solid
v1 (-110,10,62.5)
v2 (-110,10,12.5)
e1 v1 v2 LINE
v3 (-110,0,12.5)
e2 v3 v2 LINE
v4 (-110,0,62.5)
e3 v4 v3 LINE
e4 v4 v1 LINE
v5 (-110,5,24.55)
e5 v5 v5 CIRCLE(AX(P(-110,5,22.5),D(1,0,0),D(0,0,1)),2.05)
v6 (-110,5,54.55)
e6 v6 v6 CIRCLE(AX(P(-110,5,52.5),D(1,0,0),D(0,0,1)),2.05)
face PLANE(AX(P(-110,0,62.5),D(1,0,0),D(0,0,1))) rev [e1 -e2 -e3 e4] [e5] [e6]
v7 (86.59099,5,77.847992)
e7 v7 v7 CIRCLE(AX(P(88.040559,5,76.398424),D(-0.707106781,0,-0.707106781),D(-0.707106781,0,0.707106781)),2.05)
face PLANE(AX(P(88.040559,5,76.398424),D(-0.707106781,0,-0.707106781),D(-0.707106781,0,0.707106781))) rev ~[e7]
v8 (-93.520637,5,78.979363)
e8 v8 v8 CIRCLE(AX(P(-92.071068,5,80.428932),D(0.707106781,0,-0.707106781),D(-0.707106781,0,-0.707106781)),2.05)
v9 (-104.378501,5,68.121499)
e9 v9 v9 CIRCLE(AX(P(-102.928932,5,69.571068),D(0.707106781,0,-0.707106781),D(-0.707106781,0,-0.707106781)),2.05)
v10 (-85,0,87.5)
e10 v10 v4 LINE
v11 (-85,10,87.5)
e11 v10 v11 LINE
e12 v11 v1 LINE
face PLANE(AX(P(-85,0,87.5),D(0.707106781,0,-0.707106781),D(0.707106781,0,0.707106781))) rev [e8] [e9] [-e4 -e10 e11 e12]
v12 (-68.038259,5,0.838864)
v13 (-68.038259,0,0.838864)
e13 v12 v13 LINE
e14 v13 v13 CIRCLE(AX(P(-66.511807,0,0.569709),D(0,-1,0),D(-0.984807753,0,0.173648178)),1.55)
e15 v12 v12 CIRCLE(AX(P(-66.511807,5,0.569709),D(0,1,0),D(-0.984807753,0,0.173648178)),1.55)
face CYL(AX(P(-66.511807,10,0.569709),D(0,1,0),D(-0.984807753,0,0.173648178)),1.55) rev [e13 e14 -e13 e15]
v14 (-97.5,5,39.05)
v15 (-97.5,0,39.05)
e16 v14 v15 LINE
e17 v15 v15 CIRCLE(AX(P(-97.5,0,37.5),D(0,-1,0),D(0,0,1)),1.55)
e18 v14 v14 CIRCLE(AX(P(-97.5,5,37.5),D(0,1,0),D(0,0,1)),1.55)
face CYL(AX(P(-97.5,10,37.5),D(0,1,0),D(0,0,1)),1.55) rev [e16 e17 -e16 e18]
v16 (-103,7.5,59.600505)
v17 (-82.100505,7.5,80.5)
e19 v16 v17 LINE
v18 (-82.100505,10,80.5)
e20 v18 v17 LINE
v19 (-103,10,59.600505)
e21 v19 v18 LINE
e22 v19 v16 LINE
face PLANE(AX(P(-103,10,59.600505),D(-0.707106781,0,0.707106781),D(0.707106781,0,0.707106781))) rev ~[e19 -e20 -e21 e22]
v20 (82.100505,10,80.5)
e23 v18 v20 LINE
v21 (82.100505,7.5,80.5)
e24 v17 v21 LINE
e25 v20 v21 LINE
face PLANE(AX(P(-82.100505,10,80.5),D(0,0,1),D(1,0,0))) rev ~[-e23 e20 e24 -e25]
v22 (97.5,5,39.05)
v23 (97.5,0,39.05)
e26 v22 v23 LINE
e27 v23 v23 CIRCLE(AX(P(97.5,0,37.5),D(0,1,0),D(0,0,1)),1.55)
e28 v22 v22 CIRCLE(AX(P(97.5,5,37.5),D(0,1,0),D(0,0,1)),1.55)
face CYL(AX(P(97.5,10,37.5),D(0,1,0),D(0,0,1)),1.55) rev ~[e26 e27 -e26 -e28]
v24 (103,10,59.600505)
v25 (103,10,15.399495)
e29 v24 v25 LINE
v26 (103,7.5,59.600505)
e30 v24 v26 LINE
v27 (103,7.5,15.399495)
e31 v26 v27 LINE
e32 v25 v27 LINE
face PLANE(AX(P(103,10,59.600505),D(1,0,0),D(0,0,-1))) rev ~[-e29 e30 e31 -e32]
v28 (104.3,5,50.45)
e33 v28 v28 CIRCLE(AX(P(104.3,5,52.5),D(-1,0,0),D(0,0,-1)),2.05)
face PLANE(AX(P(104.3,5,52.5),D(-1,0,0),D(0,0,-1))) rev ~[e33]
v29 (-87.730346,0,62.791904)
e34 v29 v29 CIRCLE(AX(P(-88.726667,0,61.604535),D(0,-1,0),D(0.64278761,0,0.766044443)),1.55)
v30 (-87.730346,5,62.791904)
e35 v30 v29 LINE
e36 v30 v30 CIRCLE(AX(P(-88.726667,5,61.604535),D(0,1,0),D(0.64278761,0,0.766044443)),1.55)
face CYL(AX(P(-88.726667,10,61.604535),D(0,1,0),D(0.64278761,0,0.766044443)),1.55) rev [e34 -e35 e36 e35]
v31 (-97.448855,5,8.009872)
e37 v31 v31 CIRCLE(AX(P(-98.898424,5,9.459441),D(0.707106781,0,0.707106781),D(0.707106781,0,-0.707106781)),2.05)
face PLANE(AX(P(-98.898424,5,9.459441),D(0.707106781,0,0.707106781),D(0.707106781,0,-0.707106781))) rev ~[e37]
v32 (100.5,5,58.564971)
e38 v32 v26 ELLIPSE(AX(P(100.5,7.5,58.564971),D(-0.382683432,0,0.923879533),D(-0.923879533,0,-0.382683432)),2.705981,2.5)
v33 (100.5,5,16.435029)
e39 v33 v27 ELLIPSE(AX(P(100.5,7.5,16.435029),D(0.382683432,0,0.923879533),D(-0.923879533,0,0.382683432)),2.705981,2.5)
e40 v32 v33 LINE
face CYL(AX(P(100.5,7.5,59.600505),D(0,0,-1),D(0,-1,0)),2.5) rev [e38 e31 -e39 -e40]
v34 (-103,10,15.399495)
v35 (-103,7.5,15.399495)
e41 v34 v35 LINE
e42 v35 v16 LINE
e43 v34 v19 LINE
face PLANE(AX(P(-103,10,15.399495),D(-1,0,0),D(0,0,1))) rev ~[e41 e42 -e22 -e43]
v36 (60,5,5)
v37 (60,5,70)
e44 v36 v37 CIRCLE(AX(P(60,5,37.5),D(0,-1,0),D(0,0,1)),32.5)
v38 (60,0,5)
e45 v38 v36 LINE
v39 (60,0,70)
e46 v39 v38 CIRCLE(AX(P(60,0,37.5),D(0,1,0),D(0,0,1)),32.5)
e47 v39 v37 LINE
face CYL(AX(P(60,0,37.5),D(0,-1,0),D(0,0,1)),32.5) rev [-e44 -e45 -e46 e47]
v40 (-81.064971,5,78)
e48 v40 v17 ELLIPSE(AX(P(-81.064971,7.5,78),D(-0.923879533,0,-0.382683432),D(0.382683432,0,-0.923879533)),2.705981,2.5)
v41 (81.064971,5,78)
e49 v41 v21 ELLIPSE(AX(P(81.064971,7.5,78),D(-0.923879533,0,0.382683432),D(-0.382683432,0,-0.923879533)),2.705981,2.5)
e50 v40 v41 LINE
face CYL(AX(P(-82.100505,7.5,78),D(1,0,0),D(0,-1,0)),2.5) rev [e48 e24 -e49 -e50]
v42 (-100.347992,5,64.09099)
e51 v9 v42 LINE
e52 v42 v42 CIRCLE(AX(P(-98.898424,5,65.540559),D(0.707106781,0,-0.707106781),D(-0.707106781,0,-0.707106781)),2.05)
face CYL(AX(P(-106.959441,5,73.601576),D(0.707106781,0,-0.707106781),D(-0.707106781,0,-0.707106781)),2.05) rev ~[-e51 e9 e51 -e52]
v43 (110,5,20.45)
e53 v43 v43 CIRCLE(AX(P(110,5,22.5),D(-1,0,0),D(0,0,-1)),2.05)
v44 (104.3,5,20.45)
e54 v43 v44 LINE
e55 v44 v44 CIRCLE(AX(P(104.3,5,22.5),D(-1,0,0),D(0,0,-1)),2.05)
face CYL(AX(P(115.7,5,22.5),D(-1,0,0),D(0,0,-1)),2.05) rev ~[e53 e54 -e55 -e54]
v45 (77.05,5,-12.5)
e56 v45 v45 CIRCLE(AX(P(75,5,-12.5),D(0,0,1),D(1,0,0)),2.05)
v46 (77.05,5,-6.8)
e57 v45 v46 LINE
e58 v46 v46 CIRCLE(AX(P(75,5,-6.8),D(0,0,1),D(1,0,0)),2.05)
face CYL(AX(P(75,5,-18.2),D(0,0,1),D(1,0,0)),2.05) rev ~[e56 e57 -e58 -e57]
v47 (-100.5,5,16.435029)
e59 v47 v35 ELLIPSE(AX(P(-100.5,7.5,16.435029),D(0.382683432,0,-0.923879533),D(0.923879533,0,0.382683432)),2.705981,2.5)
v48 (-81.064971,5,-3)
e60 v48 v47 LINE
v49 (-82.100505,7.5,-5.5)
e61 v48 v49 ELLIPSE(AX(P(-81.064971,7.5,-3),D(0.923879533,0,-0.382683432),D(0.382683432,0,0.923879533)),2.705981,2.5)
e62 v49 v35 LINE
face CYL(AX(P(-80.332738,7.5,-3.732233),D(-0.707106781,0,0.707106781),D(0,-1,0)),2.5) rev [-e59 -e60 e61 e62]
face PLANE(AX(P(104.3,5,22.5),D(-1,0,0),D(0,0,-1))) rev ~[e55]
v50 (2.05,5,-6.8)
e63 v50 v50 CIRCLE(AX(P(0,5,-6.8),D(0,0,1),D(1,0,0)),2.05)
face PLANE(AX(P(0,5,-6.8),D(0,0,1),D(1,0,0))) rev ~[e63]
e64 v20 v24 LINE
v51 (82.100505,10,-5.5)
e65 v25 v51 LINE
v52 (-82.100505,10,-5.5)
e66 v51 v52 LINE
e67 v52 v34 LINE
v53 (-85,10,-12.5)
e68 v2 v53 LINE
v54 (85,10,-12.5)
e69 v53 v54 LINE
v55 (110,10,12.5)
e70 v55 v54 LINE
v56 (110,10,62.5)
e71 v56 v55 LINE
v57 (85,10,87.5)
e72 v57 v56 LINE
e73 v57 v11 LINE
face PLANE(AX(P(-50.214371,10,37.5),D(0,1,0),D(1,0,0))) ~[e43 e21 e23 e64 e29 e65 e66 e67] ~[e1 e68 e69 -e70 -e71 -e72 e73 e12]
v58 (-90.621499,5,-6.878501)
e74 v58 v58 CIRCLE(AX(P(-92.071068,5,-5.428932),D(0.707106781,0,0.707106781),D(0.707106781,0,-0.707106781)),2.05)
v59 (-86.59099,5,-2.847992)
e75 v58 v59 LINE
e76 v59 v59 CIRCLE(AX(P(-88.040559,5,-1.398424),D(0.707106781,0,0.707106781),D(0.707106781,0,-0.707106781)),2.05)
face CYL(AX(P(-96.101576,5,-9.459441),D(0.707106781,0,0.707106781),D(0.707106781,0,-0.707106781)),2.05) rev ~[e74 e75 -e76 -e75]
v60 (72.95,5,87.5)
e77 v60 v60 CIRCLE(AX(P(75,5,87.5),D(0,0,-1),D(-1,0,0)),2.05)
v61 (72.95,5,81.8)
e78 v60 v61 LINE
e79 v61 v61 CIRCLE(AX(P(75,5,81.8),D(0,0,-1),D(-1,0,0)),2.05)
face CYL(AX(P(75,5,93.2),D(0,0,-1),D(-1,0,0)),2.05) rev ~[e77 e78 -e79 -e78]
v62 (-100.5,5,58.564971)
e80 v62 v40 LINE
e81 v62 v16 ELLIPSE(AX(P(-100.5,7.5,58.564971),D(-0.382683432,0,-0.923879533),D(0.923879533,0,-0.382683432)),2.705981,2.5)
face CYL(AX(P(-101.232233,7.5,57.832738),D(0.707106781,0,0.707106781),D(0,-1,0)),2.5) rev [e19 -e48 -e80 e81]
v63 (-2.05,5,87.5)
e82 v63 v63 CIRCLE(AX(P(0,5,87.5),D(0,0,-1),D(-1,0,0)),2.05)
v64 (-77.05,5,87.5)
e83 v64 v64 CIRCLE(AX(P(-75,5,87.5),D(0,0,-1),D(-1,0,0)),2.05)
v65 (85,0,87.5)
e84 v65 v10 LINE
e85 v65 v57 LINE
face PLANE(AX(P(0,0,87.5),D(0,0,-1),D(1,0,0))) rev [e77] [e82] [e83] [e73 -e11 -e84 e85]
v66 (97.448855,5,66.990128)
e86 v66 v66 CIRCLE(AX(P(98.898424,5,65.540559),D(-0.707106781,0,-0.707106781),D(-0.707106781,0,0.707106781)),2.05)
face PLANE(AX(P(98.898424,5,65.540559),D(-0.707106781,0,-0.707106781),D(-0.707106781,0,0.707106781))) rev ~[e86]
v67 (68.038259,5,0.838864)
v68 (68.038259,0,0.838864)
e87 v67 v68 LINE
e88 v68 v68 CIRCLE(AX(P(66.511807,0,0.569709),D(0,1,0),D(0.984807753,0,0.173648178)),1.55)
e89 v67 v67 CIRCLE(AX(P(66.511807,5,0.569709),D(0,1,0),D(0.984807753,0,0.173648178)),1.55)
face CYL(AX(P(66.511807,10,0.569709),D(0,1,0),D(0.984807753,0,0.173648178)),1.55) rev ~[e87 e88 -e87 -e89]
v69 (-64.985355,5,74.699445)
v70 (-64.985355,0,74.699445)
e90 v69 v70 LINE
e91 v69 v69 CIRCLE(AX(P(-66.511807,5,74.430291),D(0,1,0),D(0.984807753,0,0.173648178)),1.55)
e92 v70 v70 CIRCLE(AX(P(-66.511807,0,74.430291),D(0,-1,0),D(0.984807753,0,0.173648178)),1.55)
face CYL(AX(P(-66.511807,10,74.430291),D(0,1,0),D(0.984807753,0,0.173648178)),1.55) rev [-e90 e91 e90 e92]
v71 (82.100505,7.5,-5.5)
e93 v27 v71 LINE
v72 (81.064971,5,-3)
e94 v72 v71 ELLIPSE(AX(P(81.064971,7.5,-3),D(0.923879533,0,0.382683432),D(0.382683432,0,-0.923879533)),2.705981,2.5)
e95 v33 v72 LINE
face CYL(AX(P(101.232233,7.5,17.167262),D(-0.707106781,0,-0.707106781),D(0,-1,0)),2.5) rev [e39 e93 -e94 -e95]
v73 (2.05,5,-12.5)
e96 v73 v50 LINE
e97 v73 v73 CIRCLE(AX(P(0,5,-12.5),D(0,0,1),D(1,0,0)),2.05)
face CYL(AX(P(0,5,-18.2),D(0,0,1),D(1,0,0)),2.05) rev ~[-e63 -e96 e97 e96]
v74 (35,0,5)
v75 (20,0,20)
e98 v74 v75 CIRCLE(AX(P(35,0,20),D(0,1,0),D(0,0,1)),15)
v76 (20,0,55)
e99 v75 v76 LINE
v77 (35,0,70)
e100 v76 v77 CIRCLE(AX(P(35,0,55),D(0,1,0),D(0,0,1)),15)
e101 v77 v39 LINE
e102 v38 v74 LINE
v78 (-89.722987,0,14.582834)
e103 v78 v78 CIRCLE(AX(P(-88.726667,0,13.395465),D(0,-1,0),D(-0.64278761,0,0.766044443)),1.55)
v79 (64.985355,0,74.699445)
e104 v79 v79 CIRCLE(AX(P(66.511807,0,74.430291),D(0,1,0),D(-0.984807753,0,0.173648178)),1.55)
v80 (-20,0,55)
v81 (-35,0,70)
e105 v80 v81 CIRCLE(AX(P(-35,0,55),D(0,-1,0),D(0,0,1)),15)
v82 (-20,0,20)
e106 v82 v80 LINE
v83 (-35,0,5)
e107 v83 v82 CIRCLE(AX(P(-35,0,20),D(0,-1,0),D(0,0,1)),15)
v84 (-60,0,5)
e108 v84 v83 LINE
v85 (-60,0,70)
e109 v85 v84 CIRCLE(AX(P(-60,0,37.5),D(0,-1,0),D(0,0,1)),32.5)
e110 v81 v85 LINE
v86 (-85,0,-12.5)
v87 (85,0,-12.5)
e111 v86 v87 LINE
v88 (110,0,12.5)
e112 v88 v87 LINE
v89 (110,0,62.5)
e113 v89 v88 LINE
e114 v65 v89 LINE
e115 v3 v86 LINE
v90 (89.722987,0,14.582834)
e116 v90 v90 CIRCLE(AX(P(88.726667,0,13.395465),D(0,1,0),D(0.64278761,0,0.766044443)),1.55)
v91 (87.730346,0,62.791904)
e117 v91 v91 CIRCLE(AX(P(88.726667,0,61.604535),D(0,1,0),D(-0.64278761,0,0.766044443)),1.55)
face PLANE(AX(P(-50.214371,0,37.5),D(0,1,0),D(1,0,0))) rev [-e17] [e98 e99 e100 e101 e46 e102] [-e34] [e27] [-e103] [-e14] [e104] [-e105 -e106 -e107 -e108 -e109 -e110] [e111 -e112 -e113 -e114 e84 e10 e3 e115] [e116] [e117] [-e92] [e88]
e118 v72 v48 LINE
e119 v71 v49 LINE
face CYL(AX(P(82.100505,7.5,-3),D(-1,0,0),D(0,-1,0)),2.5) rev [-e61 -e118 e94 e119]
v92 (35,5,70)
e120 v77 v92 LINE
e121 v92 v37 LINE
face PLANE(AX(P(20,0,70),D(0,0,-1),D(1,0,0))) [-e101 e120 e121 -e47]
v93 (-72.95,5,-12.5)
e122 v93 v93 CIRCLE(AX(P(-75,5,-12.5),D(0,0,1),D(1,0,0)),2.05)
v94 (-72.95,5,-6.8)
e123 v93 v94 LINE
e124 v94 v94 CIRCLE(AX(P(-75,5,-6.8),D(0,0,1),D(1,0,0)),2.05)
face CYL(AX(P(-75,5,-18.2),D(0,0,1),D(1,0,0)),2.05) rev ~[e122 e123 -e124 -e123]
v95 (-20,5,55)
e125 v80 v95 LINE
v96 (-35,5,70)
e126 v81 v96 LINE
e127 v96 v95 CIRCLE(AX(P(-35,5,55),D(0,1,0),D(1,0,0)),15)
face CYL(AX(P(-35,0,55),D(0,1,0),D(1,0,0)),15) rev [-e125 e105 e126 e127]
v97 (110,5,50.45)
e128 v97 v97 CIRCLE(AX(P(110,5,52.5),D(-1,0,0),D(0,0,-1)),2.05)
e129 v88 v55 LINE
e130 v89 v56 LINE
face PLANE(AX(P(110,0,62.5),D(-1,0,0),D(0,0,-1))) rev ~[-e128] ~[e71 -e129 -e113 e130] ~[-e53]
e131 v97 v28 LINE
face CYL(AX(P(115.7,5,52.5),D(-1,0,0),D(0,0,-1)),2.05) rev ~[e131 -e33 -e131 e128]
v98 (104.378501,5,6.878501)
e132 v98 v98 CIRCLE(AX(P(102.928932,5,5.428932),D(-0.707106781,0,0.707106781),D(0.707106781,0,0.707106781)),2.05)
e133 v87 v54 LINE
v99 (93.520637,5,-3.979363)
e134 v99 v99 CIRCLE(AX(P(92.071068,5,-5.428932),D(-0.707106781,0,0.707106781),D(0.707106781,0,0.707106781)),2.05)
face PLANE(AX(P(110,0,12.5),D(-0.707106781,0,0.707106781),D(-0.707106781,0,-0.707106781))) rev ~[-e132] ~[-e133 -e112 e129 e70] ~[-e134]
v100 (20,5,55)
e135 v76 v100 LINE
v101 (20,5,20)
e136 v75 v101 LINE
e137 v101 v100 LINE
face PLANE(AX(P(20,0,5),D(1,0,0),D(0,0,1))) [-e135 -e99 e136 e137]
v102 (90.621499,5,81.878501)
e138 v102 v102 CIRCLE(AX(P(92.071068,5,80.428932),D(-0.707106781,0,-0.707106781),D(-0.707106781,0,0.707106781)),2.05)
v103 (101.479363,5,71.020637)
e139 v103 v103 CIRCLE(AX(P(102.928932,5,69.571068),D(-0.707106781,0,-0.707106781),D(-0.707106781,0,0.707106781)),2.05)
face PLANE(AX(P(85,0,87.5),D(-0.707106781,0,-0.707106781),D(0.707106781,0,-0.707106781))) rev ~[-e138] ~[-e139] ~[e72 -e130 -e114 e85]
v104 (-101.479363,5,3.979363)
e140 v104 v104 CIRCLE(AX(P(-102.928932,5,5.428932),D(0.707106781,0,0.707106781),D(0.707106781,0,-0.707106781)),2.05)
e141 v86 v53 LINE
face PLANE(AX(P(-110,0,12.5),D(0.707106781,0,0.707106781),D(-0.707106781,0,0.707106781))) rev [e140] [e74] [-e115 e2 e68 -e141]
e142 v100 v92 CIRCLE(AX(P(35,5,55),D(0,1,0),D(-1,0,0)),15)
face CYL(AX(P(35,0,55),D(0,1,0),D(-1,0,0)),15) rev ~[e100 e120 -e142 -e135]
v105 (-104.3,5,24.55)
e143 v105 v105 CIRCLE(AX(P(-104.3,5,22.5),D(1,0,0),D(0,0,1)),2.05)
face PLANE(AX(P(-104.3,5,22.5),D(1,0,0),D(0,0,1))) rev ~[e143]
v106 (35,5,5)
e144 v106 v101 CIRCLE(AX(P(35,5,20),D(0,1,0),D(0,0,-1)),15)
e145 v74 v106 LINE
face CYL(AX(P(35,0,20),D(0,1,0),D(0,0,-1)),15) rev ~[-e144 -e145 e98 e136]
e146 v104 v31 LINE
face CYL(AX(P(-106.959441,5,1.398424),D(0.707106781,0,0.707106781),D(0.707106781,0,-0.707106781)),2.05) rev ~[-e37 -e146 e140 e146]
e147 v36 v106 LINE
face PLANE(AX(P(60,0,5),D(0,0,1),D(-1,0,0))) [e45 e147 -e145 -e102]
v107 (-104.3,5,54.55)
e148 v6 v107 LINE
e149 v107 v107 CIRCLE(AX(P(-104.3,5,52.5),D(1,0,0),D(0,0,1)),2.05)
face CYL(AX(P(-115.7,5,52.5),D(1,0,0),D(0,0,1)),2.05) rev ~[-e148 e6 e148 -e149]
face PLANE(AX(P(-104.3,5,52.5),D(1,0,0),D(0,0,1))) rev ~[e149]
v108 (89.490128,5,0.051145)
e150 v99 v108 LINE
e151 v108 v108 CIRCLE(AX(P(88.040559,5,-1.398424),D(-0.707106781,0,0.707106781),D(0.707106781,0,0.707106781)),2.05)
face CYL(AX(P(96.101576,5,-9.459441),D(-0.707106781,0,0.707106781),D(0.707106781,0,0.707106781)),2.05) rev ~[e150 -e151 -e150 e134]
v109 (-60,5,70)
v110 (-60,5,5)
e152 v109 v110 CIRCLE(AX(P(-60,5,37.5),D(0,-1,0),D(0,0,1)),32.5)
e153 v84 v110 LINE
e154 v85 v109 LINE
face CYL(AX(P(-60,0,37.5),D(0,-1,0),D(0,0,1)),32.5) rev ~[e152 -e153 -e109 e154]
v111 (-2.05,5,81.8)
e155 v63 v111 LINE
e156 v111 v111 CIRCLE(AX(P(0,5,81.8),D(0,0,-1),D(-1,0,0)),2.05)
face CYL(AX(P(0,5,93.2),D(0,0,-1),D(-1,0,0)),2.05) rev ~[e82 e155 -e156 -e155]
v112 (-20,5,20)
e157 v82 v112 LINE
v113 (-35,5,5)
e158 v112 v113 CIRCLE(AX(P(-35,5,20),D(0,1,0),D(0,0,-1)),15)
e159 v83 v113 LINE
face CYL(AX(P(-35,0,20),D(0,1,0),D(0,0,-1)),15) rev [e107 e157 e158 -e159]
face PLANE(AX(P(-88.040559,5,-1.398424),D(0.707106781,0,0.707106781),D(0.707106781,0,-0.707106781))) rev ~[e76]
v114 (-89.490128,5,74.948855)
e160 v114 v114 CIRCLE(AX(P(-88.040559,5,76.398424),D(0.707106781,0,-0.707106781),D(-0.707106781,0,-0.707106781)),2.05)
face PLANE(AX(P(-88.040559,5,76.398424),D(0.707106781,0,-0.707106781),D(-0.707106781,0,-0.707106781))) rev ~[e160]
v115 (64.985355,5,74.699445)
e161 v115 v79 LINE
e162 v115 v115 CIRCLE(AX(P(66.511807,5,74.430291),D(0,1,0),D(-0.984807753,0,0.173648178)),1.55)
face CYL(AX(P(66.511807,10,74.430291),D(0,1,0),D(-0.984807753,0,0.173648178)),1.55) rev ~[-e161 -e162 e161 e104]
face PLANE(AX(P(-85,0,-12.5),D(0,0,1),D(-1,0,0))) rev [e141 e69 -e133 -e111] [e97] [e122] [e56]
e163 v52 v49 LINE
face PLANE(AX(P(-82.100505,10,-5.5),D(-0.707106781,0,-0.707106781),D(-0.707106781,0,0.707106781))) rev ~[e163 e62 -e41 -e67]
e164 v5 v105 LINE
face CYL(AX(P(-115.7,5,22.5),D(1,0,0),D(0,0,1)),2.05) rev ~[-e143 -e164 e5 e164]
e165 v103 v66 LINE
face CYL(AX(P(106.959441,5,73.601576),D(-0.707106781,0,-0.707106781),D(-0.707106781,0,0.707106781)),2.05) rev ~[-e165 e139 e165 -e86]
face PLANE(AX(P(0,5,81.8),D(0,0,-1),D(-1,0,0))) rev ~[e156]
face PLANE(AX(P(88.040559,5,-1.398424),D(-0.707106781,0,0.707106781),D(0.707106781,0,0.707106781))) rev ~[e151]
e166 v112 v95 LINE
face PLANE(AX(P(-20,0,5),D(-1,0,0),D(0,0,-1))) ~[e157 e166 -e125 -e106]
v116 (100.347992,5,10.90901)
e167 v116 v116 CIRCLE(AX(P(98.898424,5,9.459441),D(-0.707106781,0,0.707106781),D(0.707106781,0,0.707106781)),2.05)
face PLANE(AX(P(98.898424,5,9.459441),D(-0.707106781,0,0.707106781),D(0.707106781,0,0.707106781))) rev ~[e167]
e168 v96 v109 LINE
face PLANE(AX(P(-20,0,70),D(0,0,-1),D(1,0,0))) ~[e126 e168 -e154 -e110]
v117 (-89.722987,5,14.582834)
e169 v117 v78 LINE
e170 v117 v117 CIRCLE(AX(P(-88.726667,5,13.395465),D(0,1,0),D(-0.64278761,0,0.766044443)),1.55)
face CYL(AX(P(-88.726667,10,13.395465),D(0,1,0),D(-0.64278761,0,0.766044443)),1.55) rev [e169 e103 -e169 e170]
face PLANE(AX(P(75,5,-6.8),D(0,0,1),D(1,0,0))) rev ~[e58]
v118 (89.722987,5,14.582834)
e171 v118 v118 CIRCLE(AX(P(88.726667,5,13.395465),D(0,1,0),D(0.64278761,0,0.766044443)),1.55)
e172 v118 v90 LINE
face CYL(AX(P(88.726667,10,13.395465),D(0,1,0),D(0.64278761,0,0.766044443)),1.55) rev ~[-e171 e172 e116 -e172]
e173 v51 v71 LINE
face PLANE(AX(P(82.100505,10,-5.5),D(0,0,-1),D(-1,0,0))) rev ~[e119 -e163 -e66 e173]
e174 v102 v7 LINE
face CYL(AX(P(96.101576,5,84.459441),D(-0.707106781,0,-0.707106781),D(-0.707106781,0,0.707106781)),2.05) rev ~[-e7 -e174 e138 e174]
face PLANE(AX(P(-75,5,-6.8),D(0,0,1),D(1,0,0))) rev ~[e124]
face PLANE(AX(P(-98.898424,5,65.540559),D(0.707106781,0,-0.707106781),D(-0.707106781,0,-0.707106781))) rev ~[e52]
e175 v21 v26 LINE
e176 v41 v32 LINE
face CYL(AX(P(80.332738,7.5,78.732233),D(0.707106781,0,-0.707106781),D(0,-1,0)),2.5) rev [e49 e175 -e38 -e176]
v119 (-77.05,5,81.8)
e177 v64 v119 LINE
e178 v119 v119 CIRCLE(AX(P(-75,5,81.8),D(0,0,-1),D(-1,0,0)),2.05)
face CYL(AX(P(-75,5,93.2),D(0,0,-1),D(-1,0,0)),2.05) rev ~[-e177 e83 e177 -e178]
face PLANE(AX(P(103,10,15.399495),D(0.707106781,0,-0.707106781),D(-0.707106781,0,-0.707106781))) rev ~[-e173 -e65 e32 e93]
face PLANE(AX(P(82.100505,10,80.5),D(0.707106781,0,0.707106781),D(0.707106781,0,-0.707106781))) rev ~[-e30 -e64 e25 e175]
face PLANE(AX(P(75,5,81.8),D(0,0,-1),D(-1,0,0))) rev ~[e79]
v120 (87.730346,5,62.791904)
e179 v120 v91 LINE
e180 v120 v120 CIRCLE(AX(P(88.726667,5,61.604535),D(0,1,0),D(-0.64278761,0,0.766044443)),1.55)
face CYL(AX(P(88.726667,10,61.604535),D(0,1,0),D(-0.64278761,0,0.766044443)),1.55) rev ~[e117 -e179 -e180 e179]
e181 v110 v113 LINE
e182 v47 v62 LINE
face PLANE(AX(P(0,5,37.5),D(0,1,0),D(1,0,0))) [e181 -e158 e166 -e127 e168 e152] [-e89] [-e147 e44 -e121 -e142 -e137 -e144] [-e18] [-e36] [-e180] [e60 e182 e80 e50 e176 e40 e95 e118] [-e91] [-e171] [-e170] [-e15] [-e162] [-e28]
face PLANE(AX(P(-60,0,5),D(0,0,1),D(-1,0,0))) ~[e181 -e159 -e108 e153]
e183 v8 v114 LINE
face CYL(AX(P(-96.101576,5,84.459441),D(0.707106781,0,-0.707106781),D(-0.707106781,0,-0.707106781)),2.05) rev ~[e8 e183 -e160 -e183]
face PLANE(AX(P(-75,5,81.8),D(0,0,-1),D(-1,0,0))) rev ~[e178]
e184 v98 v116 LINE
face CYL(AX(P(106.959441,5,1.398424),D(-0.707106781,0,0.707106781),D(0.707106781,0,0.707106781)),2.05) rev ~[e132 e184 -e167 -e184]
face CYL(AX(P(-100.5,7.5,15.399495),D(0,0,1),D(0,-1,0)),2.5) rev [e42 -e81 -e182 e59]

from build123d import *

# Parameters (mm, degrees)
MAIN_DEPTH                                     = 10
SKETCH3_R                                      = 1.55
ACTUATOR_SCREW_HOLE_DEPTH                      = 141.91220671
ACTUATOR_SCREW_HOLE_PATTERN_COUNT              = 3
ACTUATOR_SCREW_HOLE_PATTERN_ANGLE              = 80
ACTUATOR_SCREW_HOLE_PATTERN_THE_OTHER_WA_COUNT = 3
ACTUATOR_SCREW_HOLE_PATTERN_THE_OTHER_WA_ANGLE = 80
MIDSPAN_FILLET_R                               = 15
DISH_DEPTH                                     = 5
DISH_FILLET_R                                  = 2.5
F_4_0MM_DOWEL_HOLE1_D                          = 4.1
F_4_0MM_DOWEL_HOLE1_DEPTH                      = 5.7
F_4_0MM_DOWEL_HOLE1_ON_FACE_2_D                = 4.1
F_4_0MM_DOWEL_HOLE1_ON_FACE_2_DEPTH            = 5.7
F_4_0MM_DOWEL_HOLE1_ON_FACE_3_D                = 4.1
F_4_0MM_DOWEL_HOLE1_ON_FACE_3_DEPTH            = 5.7
F_4_0MM_DOWEL_HOLE1_ON_FACE_4_D                = 4.1
F_4_0MM_DOWEL_HOLE1_ON_FACE_4_DEPTH            = 5.7
F_4_0MM_DOWEL_HOLE1_ON_FACE_5_D                = 4.1
F_4_0MM_DOWEL_HOLE1_ON_FACE_5_DEPTH            = 5.7
F_4_0MM_DOWEL_HOLE1_ON_FACE_6_D                = 4.1
F_4_0MM_DOWEL_HOLE1_ON_FACE_6_DEPTH            = 5.7
F_4_0MM_DOWEL_HOLE1_ON_FACE_7_D                = 4.1
F_4_0MM_DOWEL_HOLE1_ON_FACE_7_DEPTH            = 5.7
F_4_0MM_DOWEL_HOLE1_ON_FACE_8_D                = 4.1
F_4_0MM_DOWEL_HOLE1_ON_FACE_8_DEPTH            = 5.7
F_4_0MM_DOWEL_HOLE1_ON_FACE_9_D                = 4.1
F_4_0MM_DOWEL_HOLE1_ON_FACE_9_DEPTH            = 5.7
F_4_0MM_DOWEL_HOLE1_ON_FACE_10_D               = 4.1
F_4_0MM_DOWEL_HOLE1_ON_FACE_10_DEPTH           = 5.7


with BuildPart() as part:
    # Sketch1 → Main (new body)
    with BuildSketch(Plane(origin=(0, 0, 0), x_dir=(1, 0, 0), z_dir=(0, 1, 0))):
        Polygon((0, 12.5), (0, 0), (0, -75), (0, -87.5), (85, -87.5), (110, -62.5), (110, -12.5), (85, 12.5), align=None)
        with BuildLine():
            Line((60, -5), (20, -5))
            Line((20, -5), (20, -70))
            Line((20, -70), (60, -70))
            ThreePointArc((60, -70), (92.5, -37.5), (60, -5))
        make_face(mode=Mode.SUBTRACT)
    extrude(amount=MAIN_DEPTH)

    # Sketch3 → Actuator Screw Hole (cut, through all)
    with BuildSketch(Plane(origin=(0, 10, 0), x_dir=(1, 0, 0), z_dir=(0, 1, 0))):
        with Locations(Location((97.5, -37.5, 0), (0, 0, 270))):
            Circle(SKETCH3_R)
    actuator_screw_hole = extrude(amount=-ACTUATOR_SCREW_HOLE_DEPTH, mode=Mode.SUBTRACT)

    # Actuator Screw Hole Pattern: Actuator Screw Hole ×3 about axis
    actuator_screw_hole_pattern_axis = Axis((60, 0, 37.5), (0, 1, 0))
    for i in range(1, ACTUATOR_SCREW_HOLE_PATTERN_COUNT):
        add(actuator_screw_hole.rotate(actuator_screw_hole_pattern_axis, i * ACTUATOR_SCREW_HOLE_PATTERN_ANGLE / (ACTUATOR_SCREW_HOLE_PATTERN_COUNT - 1)), mode=Mode.SUBTRACT)

    # Actuator Screw Hole Pattern the other wa: Actuator Screw Hole ×3 about axis
    actuator_screw_hole_pattern_the_other_wa_axis = Axis((60, 0, 37.5), (0, -1, 0))
    for i in range(1, ACTUATOR_SCREW_HOLE_PATTERN_THE_OTHER_WA_COUNT):
        add(actuator_screw_hole.rotate(actuator_screw_hole_pattern_the_other_wa_axis, i * ACTUATOR_SCREW_HOLE_PATTERN_THE_OTHER_WA_ANGLE / (ACTUATOR_SCREW_HOLE_PATTERN_THE_OTHER_WA_COUNT - 1)), mode=Mode.SUBTRACT)

    # Midspan fillet
    midspan_fillet_edges = [part.edges().sort_by_distance(p)[0] for p in [
        (20, 5, 5),
        (20, 5, 70),
    ]]
    fillet(midspan_fillet_edges, radius=MIDSPAN_FILLET_R)

    # Mirror1: part across plane


with BuildPart() as part_1:
    add(part.part)
    add(part.part.mirror(Plane(origin=(0, 0, 0), x_dir=(0, 0, 1), z_dir=(1, 0, 0))))

    # Sketch8 → Dish (cut)
    with BuildSketch(Plane(origin=(0, 10, 0), x_dir=(1, 0, 0), z_dir=(0, 1, 0))):
        Polygon((82.100505063, 5.5), (-82.100505063, 5.5), (-103, -15.399494937), (-103, -59.600505063), (-82.100505063, -80.5), (82.100505063, -80.5), (103, -59.600505063), (103, -15.399494937), align=None)
    extrude(amount=-DISH_DEPTH, mode=Mode.SUBTRACT)

    # Dish fillet
    dish_fillet_edges = [part_1.edges().sort_by_distance(p)[0] for p in [
        (92.550252532, 5, 4.949747468),
        (103, 5, 37.5),
        (92.550252532, 5, 70.050252532),
        (0, 5, 80.5),
        (-92.550252532, 5, 70.050252532),
        (-103, 5, 37.5),
        (-92.550252532, 5, 4.949747468),
        (0, 5, -5.5),
    ]]
    fillet(dish_fillet_edges, radius=DISH_FILLET_R)

    # Ø4.0mm Dowel Hole1
    with Locations(Plane(origin=(75, 5, -12.5), x_dir=(-1, 0, 0), z_dir=(0, 0, -1))):
        with Locations((0, 0), (75, 0), (150, 0)):
            Hole(F_4_0MM_DOWEL_HOLE1_D / 2, depth=F_4_0MM_DOWEL_HOLE1_DEPTH)

    # Ø4.0mm Dowel Hole1 on face 2
    with Locations(Plane(origin=(-92.071067812, 5, -5.428932188), x_dir=(-0.707106781187, 0, 0.707106781187), z_dir=(-0.707106781187, 0, -0.707106781187))):
        with Locations((0, 0), (15.355339059, 0)):
            Hole(F_4_0MM_DOWEL_HOLE1_ON_FACE_2_D / 2, depth=F_4_0MM_DOWEL_HOLE1_ON_FACE_2_DEPTH)

    # Ø4.0mm Dowel Hole1 on face 3
    with Locations(Plane(origin=(-110, 5, 22.5), x_dir=(0, 0, -1), z_dir=(-1, 0, 0))):
        with Locations((0, 0), (-30, 0)):
            Hole(F_4_0MM_DOWEL_HOLE1_ON_FACE_3_D / 2, depth=F_4_0MM_DOWEL_HOLE1_ON_FACE_3_DEPTH)

    # Ø4.0mm Dowel Hole1 on face 4
    with Locations(Plane(origin=(-102.928932188, 5, 69.571067812), x_dir=(0.707106781187, 0, 0.707106781187), z_dir=(-0.707106781187, 0, 0.707106781187))):
        with Locations((0, 0)):
            Hole(F_4_0MM_DOWEL_HOLE1_ON_FACE_4_D / 2, depth=F_4_0MM_DOWEL_HOLE1_ON_FACE_4_DEPTH)

    # Ø4.0mm Dowel Hole1 on face 5
    with Locations(Plane(origin=(-92.071067812, 5, 80.428932188), x_dir=(0.707106781187, 0, 0.707106781187), z_dir=(-0.707106781187, 0, 0.707106781187))):
        with Locations((0, 0)):
            Hole(F_4_0MM_DOWEL_HOLE1_ON_FACE_5_D / 2, depth=F_4_0MM_DOWEL_HOLE1_ON_FACE_5_DEPTH)

    # Ø4.0mm Dowel Hole1 on face 6
    with Locations(Plane(origin=(-75, 5, 87.5), x_dir=(1, 0, 0), z_dir=(0, 0, 1))):
        with Locations((0, 0), (75, 0), (150, 0)):
            Hole(F_4_0MM_DOWEL_HOLE1_ON_FACE_6_D / 2, depth=F_4_0MM_DOWEL_HOLE1_ON_FACE_6_DEPTH)

    # Ø4.0mm Dowel Hole1 on face 7
    with Locations(Plane(origin=(92.071067812, 5, 80.428932188), x_dir=(0.707106781187, 0, -0.707106781187), z_dir=(0.707106781187, 0, 0.707106781187))):
        with Locations((0, 0)):
            Hole(F_4_0MM_DOWEL_HOLE1_ON_FACE_7_D / 2, depth=F_4_0MM_DOWEL_HOLE1_ON_FACE_7_DEPTH)

    # Ø4.0mm Dowel Hole1 on face 8
    with Locations(Plane(origin=(102.928932188, 5, 69.571067812), x_dir=(0.707106781187, 0, -0.707106781187), z_dir=(0.707106781187, 0, 0.707106781187))):
        with Locations((0, 0)):
            Hole(F_4_0MM_DOWEL_HOLE1_ON_FACE_8_D / 2, depth=F_4_0MM_DOWEL_HOLE1_ON_FACE_8_DEPTH)

    # Ø4.0mm Dowel Hole1 on face 9
    with Locations(Plane(origin=(110, 5, 52.5), x_dir=(0, 0, 1), z_dir=(1, 0, 0))):
        with Locations((0, 0), (-30, 0)):
            Hole(F_4_0MM_DOWEL_HOLE1_ON_FACE_9_D / 2, depth=F_4_0MM_DOWEL_HOLE1_ON_FACE_9_DEPTH)

    # Ø4.0mm Dowel Hole1 on face 10
    with Locations(Plane(origin=(102.928932188, 5, 5.428932188), x_dir=(-0.707106781187, 0, -0.707106781187), z_dir=(0.707106781187, 0, -0.707106781187))):
        with Locations((0, 0), (15.355339059, 0)):
            Hole(F_4_0MM_DOWEL_HOLE1_ON_FACE_10_D / 2, depth=F_4_0MM_DOWEL_HOLE1_ON_FACE_10_DEPTH)


solid = part_1.part
